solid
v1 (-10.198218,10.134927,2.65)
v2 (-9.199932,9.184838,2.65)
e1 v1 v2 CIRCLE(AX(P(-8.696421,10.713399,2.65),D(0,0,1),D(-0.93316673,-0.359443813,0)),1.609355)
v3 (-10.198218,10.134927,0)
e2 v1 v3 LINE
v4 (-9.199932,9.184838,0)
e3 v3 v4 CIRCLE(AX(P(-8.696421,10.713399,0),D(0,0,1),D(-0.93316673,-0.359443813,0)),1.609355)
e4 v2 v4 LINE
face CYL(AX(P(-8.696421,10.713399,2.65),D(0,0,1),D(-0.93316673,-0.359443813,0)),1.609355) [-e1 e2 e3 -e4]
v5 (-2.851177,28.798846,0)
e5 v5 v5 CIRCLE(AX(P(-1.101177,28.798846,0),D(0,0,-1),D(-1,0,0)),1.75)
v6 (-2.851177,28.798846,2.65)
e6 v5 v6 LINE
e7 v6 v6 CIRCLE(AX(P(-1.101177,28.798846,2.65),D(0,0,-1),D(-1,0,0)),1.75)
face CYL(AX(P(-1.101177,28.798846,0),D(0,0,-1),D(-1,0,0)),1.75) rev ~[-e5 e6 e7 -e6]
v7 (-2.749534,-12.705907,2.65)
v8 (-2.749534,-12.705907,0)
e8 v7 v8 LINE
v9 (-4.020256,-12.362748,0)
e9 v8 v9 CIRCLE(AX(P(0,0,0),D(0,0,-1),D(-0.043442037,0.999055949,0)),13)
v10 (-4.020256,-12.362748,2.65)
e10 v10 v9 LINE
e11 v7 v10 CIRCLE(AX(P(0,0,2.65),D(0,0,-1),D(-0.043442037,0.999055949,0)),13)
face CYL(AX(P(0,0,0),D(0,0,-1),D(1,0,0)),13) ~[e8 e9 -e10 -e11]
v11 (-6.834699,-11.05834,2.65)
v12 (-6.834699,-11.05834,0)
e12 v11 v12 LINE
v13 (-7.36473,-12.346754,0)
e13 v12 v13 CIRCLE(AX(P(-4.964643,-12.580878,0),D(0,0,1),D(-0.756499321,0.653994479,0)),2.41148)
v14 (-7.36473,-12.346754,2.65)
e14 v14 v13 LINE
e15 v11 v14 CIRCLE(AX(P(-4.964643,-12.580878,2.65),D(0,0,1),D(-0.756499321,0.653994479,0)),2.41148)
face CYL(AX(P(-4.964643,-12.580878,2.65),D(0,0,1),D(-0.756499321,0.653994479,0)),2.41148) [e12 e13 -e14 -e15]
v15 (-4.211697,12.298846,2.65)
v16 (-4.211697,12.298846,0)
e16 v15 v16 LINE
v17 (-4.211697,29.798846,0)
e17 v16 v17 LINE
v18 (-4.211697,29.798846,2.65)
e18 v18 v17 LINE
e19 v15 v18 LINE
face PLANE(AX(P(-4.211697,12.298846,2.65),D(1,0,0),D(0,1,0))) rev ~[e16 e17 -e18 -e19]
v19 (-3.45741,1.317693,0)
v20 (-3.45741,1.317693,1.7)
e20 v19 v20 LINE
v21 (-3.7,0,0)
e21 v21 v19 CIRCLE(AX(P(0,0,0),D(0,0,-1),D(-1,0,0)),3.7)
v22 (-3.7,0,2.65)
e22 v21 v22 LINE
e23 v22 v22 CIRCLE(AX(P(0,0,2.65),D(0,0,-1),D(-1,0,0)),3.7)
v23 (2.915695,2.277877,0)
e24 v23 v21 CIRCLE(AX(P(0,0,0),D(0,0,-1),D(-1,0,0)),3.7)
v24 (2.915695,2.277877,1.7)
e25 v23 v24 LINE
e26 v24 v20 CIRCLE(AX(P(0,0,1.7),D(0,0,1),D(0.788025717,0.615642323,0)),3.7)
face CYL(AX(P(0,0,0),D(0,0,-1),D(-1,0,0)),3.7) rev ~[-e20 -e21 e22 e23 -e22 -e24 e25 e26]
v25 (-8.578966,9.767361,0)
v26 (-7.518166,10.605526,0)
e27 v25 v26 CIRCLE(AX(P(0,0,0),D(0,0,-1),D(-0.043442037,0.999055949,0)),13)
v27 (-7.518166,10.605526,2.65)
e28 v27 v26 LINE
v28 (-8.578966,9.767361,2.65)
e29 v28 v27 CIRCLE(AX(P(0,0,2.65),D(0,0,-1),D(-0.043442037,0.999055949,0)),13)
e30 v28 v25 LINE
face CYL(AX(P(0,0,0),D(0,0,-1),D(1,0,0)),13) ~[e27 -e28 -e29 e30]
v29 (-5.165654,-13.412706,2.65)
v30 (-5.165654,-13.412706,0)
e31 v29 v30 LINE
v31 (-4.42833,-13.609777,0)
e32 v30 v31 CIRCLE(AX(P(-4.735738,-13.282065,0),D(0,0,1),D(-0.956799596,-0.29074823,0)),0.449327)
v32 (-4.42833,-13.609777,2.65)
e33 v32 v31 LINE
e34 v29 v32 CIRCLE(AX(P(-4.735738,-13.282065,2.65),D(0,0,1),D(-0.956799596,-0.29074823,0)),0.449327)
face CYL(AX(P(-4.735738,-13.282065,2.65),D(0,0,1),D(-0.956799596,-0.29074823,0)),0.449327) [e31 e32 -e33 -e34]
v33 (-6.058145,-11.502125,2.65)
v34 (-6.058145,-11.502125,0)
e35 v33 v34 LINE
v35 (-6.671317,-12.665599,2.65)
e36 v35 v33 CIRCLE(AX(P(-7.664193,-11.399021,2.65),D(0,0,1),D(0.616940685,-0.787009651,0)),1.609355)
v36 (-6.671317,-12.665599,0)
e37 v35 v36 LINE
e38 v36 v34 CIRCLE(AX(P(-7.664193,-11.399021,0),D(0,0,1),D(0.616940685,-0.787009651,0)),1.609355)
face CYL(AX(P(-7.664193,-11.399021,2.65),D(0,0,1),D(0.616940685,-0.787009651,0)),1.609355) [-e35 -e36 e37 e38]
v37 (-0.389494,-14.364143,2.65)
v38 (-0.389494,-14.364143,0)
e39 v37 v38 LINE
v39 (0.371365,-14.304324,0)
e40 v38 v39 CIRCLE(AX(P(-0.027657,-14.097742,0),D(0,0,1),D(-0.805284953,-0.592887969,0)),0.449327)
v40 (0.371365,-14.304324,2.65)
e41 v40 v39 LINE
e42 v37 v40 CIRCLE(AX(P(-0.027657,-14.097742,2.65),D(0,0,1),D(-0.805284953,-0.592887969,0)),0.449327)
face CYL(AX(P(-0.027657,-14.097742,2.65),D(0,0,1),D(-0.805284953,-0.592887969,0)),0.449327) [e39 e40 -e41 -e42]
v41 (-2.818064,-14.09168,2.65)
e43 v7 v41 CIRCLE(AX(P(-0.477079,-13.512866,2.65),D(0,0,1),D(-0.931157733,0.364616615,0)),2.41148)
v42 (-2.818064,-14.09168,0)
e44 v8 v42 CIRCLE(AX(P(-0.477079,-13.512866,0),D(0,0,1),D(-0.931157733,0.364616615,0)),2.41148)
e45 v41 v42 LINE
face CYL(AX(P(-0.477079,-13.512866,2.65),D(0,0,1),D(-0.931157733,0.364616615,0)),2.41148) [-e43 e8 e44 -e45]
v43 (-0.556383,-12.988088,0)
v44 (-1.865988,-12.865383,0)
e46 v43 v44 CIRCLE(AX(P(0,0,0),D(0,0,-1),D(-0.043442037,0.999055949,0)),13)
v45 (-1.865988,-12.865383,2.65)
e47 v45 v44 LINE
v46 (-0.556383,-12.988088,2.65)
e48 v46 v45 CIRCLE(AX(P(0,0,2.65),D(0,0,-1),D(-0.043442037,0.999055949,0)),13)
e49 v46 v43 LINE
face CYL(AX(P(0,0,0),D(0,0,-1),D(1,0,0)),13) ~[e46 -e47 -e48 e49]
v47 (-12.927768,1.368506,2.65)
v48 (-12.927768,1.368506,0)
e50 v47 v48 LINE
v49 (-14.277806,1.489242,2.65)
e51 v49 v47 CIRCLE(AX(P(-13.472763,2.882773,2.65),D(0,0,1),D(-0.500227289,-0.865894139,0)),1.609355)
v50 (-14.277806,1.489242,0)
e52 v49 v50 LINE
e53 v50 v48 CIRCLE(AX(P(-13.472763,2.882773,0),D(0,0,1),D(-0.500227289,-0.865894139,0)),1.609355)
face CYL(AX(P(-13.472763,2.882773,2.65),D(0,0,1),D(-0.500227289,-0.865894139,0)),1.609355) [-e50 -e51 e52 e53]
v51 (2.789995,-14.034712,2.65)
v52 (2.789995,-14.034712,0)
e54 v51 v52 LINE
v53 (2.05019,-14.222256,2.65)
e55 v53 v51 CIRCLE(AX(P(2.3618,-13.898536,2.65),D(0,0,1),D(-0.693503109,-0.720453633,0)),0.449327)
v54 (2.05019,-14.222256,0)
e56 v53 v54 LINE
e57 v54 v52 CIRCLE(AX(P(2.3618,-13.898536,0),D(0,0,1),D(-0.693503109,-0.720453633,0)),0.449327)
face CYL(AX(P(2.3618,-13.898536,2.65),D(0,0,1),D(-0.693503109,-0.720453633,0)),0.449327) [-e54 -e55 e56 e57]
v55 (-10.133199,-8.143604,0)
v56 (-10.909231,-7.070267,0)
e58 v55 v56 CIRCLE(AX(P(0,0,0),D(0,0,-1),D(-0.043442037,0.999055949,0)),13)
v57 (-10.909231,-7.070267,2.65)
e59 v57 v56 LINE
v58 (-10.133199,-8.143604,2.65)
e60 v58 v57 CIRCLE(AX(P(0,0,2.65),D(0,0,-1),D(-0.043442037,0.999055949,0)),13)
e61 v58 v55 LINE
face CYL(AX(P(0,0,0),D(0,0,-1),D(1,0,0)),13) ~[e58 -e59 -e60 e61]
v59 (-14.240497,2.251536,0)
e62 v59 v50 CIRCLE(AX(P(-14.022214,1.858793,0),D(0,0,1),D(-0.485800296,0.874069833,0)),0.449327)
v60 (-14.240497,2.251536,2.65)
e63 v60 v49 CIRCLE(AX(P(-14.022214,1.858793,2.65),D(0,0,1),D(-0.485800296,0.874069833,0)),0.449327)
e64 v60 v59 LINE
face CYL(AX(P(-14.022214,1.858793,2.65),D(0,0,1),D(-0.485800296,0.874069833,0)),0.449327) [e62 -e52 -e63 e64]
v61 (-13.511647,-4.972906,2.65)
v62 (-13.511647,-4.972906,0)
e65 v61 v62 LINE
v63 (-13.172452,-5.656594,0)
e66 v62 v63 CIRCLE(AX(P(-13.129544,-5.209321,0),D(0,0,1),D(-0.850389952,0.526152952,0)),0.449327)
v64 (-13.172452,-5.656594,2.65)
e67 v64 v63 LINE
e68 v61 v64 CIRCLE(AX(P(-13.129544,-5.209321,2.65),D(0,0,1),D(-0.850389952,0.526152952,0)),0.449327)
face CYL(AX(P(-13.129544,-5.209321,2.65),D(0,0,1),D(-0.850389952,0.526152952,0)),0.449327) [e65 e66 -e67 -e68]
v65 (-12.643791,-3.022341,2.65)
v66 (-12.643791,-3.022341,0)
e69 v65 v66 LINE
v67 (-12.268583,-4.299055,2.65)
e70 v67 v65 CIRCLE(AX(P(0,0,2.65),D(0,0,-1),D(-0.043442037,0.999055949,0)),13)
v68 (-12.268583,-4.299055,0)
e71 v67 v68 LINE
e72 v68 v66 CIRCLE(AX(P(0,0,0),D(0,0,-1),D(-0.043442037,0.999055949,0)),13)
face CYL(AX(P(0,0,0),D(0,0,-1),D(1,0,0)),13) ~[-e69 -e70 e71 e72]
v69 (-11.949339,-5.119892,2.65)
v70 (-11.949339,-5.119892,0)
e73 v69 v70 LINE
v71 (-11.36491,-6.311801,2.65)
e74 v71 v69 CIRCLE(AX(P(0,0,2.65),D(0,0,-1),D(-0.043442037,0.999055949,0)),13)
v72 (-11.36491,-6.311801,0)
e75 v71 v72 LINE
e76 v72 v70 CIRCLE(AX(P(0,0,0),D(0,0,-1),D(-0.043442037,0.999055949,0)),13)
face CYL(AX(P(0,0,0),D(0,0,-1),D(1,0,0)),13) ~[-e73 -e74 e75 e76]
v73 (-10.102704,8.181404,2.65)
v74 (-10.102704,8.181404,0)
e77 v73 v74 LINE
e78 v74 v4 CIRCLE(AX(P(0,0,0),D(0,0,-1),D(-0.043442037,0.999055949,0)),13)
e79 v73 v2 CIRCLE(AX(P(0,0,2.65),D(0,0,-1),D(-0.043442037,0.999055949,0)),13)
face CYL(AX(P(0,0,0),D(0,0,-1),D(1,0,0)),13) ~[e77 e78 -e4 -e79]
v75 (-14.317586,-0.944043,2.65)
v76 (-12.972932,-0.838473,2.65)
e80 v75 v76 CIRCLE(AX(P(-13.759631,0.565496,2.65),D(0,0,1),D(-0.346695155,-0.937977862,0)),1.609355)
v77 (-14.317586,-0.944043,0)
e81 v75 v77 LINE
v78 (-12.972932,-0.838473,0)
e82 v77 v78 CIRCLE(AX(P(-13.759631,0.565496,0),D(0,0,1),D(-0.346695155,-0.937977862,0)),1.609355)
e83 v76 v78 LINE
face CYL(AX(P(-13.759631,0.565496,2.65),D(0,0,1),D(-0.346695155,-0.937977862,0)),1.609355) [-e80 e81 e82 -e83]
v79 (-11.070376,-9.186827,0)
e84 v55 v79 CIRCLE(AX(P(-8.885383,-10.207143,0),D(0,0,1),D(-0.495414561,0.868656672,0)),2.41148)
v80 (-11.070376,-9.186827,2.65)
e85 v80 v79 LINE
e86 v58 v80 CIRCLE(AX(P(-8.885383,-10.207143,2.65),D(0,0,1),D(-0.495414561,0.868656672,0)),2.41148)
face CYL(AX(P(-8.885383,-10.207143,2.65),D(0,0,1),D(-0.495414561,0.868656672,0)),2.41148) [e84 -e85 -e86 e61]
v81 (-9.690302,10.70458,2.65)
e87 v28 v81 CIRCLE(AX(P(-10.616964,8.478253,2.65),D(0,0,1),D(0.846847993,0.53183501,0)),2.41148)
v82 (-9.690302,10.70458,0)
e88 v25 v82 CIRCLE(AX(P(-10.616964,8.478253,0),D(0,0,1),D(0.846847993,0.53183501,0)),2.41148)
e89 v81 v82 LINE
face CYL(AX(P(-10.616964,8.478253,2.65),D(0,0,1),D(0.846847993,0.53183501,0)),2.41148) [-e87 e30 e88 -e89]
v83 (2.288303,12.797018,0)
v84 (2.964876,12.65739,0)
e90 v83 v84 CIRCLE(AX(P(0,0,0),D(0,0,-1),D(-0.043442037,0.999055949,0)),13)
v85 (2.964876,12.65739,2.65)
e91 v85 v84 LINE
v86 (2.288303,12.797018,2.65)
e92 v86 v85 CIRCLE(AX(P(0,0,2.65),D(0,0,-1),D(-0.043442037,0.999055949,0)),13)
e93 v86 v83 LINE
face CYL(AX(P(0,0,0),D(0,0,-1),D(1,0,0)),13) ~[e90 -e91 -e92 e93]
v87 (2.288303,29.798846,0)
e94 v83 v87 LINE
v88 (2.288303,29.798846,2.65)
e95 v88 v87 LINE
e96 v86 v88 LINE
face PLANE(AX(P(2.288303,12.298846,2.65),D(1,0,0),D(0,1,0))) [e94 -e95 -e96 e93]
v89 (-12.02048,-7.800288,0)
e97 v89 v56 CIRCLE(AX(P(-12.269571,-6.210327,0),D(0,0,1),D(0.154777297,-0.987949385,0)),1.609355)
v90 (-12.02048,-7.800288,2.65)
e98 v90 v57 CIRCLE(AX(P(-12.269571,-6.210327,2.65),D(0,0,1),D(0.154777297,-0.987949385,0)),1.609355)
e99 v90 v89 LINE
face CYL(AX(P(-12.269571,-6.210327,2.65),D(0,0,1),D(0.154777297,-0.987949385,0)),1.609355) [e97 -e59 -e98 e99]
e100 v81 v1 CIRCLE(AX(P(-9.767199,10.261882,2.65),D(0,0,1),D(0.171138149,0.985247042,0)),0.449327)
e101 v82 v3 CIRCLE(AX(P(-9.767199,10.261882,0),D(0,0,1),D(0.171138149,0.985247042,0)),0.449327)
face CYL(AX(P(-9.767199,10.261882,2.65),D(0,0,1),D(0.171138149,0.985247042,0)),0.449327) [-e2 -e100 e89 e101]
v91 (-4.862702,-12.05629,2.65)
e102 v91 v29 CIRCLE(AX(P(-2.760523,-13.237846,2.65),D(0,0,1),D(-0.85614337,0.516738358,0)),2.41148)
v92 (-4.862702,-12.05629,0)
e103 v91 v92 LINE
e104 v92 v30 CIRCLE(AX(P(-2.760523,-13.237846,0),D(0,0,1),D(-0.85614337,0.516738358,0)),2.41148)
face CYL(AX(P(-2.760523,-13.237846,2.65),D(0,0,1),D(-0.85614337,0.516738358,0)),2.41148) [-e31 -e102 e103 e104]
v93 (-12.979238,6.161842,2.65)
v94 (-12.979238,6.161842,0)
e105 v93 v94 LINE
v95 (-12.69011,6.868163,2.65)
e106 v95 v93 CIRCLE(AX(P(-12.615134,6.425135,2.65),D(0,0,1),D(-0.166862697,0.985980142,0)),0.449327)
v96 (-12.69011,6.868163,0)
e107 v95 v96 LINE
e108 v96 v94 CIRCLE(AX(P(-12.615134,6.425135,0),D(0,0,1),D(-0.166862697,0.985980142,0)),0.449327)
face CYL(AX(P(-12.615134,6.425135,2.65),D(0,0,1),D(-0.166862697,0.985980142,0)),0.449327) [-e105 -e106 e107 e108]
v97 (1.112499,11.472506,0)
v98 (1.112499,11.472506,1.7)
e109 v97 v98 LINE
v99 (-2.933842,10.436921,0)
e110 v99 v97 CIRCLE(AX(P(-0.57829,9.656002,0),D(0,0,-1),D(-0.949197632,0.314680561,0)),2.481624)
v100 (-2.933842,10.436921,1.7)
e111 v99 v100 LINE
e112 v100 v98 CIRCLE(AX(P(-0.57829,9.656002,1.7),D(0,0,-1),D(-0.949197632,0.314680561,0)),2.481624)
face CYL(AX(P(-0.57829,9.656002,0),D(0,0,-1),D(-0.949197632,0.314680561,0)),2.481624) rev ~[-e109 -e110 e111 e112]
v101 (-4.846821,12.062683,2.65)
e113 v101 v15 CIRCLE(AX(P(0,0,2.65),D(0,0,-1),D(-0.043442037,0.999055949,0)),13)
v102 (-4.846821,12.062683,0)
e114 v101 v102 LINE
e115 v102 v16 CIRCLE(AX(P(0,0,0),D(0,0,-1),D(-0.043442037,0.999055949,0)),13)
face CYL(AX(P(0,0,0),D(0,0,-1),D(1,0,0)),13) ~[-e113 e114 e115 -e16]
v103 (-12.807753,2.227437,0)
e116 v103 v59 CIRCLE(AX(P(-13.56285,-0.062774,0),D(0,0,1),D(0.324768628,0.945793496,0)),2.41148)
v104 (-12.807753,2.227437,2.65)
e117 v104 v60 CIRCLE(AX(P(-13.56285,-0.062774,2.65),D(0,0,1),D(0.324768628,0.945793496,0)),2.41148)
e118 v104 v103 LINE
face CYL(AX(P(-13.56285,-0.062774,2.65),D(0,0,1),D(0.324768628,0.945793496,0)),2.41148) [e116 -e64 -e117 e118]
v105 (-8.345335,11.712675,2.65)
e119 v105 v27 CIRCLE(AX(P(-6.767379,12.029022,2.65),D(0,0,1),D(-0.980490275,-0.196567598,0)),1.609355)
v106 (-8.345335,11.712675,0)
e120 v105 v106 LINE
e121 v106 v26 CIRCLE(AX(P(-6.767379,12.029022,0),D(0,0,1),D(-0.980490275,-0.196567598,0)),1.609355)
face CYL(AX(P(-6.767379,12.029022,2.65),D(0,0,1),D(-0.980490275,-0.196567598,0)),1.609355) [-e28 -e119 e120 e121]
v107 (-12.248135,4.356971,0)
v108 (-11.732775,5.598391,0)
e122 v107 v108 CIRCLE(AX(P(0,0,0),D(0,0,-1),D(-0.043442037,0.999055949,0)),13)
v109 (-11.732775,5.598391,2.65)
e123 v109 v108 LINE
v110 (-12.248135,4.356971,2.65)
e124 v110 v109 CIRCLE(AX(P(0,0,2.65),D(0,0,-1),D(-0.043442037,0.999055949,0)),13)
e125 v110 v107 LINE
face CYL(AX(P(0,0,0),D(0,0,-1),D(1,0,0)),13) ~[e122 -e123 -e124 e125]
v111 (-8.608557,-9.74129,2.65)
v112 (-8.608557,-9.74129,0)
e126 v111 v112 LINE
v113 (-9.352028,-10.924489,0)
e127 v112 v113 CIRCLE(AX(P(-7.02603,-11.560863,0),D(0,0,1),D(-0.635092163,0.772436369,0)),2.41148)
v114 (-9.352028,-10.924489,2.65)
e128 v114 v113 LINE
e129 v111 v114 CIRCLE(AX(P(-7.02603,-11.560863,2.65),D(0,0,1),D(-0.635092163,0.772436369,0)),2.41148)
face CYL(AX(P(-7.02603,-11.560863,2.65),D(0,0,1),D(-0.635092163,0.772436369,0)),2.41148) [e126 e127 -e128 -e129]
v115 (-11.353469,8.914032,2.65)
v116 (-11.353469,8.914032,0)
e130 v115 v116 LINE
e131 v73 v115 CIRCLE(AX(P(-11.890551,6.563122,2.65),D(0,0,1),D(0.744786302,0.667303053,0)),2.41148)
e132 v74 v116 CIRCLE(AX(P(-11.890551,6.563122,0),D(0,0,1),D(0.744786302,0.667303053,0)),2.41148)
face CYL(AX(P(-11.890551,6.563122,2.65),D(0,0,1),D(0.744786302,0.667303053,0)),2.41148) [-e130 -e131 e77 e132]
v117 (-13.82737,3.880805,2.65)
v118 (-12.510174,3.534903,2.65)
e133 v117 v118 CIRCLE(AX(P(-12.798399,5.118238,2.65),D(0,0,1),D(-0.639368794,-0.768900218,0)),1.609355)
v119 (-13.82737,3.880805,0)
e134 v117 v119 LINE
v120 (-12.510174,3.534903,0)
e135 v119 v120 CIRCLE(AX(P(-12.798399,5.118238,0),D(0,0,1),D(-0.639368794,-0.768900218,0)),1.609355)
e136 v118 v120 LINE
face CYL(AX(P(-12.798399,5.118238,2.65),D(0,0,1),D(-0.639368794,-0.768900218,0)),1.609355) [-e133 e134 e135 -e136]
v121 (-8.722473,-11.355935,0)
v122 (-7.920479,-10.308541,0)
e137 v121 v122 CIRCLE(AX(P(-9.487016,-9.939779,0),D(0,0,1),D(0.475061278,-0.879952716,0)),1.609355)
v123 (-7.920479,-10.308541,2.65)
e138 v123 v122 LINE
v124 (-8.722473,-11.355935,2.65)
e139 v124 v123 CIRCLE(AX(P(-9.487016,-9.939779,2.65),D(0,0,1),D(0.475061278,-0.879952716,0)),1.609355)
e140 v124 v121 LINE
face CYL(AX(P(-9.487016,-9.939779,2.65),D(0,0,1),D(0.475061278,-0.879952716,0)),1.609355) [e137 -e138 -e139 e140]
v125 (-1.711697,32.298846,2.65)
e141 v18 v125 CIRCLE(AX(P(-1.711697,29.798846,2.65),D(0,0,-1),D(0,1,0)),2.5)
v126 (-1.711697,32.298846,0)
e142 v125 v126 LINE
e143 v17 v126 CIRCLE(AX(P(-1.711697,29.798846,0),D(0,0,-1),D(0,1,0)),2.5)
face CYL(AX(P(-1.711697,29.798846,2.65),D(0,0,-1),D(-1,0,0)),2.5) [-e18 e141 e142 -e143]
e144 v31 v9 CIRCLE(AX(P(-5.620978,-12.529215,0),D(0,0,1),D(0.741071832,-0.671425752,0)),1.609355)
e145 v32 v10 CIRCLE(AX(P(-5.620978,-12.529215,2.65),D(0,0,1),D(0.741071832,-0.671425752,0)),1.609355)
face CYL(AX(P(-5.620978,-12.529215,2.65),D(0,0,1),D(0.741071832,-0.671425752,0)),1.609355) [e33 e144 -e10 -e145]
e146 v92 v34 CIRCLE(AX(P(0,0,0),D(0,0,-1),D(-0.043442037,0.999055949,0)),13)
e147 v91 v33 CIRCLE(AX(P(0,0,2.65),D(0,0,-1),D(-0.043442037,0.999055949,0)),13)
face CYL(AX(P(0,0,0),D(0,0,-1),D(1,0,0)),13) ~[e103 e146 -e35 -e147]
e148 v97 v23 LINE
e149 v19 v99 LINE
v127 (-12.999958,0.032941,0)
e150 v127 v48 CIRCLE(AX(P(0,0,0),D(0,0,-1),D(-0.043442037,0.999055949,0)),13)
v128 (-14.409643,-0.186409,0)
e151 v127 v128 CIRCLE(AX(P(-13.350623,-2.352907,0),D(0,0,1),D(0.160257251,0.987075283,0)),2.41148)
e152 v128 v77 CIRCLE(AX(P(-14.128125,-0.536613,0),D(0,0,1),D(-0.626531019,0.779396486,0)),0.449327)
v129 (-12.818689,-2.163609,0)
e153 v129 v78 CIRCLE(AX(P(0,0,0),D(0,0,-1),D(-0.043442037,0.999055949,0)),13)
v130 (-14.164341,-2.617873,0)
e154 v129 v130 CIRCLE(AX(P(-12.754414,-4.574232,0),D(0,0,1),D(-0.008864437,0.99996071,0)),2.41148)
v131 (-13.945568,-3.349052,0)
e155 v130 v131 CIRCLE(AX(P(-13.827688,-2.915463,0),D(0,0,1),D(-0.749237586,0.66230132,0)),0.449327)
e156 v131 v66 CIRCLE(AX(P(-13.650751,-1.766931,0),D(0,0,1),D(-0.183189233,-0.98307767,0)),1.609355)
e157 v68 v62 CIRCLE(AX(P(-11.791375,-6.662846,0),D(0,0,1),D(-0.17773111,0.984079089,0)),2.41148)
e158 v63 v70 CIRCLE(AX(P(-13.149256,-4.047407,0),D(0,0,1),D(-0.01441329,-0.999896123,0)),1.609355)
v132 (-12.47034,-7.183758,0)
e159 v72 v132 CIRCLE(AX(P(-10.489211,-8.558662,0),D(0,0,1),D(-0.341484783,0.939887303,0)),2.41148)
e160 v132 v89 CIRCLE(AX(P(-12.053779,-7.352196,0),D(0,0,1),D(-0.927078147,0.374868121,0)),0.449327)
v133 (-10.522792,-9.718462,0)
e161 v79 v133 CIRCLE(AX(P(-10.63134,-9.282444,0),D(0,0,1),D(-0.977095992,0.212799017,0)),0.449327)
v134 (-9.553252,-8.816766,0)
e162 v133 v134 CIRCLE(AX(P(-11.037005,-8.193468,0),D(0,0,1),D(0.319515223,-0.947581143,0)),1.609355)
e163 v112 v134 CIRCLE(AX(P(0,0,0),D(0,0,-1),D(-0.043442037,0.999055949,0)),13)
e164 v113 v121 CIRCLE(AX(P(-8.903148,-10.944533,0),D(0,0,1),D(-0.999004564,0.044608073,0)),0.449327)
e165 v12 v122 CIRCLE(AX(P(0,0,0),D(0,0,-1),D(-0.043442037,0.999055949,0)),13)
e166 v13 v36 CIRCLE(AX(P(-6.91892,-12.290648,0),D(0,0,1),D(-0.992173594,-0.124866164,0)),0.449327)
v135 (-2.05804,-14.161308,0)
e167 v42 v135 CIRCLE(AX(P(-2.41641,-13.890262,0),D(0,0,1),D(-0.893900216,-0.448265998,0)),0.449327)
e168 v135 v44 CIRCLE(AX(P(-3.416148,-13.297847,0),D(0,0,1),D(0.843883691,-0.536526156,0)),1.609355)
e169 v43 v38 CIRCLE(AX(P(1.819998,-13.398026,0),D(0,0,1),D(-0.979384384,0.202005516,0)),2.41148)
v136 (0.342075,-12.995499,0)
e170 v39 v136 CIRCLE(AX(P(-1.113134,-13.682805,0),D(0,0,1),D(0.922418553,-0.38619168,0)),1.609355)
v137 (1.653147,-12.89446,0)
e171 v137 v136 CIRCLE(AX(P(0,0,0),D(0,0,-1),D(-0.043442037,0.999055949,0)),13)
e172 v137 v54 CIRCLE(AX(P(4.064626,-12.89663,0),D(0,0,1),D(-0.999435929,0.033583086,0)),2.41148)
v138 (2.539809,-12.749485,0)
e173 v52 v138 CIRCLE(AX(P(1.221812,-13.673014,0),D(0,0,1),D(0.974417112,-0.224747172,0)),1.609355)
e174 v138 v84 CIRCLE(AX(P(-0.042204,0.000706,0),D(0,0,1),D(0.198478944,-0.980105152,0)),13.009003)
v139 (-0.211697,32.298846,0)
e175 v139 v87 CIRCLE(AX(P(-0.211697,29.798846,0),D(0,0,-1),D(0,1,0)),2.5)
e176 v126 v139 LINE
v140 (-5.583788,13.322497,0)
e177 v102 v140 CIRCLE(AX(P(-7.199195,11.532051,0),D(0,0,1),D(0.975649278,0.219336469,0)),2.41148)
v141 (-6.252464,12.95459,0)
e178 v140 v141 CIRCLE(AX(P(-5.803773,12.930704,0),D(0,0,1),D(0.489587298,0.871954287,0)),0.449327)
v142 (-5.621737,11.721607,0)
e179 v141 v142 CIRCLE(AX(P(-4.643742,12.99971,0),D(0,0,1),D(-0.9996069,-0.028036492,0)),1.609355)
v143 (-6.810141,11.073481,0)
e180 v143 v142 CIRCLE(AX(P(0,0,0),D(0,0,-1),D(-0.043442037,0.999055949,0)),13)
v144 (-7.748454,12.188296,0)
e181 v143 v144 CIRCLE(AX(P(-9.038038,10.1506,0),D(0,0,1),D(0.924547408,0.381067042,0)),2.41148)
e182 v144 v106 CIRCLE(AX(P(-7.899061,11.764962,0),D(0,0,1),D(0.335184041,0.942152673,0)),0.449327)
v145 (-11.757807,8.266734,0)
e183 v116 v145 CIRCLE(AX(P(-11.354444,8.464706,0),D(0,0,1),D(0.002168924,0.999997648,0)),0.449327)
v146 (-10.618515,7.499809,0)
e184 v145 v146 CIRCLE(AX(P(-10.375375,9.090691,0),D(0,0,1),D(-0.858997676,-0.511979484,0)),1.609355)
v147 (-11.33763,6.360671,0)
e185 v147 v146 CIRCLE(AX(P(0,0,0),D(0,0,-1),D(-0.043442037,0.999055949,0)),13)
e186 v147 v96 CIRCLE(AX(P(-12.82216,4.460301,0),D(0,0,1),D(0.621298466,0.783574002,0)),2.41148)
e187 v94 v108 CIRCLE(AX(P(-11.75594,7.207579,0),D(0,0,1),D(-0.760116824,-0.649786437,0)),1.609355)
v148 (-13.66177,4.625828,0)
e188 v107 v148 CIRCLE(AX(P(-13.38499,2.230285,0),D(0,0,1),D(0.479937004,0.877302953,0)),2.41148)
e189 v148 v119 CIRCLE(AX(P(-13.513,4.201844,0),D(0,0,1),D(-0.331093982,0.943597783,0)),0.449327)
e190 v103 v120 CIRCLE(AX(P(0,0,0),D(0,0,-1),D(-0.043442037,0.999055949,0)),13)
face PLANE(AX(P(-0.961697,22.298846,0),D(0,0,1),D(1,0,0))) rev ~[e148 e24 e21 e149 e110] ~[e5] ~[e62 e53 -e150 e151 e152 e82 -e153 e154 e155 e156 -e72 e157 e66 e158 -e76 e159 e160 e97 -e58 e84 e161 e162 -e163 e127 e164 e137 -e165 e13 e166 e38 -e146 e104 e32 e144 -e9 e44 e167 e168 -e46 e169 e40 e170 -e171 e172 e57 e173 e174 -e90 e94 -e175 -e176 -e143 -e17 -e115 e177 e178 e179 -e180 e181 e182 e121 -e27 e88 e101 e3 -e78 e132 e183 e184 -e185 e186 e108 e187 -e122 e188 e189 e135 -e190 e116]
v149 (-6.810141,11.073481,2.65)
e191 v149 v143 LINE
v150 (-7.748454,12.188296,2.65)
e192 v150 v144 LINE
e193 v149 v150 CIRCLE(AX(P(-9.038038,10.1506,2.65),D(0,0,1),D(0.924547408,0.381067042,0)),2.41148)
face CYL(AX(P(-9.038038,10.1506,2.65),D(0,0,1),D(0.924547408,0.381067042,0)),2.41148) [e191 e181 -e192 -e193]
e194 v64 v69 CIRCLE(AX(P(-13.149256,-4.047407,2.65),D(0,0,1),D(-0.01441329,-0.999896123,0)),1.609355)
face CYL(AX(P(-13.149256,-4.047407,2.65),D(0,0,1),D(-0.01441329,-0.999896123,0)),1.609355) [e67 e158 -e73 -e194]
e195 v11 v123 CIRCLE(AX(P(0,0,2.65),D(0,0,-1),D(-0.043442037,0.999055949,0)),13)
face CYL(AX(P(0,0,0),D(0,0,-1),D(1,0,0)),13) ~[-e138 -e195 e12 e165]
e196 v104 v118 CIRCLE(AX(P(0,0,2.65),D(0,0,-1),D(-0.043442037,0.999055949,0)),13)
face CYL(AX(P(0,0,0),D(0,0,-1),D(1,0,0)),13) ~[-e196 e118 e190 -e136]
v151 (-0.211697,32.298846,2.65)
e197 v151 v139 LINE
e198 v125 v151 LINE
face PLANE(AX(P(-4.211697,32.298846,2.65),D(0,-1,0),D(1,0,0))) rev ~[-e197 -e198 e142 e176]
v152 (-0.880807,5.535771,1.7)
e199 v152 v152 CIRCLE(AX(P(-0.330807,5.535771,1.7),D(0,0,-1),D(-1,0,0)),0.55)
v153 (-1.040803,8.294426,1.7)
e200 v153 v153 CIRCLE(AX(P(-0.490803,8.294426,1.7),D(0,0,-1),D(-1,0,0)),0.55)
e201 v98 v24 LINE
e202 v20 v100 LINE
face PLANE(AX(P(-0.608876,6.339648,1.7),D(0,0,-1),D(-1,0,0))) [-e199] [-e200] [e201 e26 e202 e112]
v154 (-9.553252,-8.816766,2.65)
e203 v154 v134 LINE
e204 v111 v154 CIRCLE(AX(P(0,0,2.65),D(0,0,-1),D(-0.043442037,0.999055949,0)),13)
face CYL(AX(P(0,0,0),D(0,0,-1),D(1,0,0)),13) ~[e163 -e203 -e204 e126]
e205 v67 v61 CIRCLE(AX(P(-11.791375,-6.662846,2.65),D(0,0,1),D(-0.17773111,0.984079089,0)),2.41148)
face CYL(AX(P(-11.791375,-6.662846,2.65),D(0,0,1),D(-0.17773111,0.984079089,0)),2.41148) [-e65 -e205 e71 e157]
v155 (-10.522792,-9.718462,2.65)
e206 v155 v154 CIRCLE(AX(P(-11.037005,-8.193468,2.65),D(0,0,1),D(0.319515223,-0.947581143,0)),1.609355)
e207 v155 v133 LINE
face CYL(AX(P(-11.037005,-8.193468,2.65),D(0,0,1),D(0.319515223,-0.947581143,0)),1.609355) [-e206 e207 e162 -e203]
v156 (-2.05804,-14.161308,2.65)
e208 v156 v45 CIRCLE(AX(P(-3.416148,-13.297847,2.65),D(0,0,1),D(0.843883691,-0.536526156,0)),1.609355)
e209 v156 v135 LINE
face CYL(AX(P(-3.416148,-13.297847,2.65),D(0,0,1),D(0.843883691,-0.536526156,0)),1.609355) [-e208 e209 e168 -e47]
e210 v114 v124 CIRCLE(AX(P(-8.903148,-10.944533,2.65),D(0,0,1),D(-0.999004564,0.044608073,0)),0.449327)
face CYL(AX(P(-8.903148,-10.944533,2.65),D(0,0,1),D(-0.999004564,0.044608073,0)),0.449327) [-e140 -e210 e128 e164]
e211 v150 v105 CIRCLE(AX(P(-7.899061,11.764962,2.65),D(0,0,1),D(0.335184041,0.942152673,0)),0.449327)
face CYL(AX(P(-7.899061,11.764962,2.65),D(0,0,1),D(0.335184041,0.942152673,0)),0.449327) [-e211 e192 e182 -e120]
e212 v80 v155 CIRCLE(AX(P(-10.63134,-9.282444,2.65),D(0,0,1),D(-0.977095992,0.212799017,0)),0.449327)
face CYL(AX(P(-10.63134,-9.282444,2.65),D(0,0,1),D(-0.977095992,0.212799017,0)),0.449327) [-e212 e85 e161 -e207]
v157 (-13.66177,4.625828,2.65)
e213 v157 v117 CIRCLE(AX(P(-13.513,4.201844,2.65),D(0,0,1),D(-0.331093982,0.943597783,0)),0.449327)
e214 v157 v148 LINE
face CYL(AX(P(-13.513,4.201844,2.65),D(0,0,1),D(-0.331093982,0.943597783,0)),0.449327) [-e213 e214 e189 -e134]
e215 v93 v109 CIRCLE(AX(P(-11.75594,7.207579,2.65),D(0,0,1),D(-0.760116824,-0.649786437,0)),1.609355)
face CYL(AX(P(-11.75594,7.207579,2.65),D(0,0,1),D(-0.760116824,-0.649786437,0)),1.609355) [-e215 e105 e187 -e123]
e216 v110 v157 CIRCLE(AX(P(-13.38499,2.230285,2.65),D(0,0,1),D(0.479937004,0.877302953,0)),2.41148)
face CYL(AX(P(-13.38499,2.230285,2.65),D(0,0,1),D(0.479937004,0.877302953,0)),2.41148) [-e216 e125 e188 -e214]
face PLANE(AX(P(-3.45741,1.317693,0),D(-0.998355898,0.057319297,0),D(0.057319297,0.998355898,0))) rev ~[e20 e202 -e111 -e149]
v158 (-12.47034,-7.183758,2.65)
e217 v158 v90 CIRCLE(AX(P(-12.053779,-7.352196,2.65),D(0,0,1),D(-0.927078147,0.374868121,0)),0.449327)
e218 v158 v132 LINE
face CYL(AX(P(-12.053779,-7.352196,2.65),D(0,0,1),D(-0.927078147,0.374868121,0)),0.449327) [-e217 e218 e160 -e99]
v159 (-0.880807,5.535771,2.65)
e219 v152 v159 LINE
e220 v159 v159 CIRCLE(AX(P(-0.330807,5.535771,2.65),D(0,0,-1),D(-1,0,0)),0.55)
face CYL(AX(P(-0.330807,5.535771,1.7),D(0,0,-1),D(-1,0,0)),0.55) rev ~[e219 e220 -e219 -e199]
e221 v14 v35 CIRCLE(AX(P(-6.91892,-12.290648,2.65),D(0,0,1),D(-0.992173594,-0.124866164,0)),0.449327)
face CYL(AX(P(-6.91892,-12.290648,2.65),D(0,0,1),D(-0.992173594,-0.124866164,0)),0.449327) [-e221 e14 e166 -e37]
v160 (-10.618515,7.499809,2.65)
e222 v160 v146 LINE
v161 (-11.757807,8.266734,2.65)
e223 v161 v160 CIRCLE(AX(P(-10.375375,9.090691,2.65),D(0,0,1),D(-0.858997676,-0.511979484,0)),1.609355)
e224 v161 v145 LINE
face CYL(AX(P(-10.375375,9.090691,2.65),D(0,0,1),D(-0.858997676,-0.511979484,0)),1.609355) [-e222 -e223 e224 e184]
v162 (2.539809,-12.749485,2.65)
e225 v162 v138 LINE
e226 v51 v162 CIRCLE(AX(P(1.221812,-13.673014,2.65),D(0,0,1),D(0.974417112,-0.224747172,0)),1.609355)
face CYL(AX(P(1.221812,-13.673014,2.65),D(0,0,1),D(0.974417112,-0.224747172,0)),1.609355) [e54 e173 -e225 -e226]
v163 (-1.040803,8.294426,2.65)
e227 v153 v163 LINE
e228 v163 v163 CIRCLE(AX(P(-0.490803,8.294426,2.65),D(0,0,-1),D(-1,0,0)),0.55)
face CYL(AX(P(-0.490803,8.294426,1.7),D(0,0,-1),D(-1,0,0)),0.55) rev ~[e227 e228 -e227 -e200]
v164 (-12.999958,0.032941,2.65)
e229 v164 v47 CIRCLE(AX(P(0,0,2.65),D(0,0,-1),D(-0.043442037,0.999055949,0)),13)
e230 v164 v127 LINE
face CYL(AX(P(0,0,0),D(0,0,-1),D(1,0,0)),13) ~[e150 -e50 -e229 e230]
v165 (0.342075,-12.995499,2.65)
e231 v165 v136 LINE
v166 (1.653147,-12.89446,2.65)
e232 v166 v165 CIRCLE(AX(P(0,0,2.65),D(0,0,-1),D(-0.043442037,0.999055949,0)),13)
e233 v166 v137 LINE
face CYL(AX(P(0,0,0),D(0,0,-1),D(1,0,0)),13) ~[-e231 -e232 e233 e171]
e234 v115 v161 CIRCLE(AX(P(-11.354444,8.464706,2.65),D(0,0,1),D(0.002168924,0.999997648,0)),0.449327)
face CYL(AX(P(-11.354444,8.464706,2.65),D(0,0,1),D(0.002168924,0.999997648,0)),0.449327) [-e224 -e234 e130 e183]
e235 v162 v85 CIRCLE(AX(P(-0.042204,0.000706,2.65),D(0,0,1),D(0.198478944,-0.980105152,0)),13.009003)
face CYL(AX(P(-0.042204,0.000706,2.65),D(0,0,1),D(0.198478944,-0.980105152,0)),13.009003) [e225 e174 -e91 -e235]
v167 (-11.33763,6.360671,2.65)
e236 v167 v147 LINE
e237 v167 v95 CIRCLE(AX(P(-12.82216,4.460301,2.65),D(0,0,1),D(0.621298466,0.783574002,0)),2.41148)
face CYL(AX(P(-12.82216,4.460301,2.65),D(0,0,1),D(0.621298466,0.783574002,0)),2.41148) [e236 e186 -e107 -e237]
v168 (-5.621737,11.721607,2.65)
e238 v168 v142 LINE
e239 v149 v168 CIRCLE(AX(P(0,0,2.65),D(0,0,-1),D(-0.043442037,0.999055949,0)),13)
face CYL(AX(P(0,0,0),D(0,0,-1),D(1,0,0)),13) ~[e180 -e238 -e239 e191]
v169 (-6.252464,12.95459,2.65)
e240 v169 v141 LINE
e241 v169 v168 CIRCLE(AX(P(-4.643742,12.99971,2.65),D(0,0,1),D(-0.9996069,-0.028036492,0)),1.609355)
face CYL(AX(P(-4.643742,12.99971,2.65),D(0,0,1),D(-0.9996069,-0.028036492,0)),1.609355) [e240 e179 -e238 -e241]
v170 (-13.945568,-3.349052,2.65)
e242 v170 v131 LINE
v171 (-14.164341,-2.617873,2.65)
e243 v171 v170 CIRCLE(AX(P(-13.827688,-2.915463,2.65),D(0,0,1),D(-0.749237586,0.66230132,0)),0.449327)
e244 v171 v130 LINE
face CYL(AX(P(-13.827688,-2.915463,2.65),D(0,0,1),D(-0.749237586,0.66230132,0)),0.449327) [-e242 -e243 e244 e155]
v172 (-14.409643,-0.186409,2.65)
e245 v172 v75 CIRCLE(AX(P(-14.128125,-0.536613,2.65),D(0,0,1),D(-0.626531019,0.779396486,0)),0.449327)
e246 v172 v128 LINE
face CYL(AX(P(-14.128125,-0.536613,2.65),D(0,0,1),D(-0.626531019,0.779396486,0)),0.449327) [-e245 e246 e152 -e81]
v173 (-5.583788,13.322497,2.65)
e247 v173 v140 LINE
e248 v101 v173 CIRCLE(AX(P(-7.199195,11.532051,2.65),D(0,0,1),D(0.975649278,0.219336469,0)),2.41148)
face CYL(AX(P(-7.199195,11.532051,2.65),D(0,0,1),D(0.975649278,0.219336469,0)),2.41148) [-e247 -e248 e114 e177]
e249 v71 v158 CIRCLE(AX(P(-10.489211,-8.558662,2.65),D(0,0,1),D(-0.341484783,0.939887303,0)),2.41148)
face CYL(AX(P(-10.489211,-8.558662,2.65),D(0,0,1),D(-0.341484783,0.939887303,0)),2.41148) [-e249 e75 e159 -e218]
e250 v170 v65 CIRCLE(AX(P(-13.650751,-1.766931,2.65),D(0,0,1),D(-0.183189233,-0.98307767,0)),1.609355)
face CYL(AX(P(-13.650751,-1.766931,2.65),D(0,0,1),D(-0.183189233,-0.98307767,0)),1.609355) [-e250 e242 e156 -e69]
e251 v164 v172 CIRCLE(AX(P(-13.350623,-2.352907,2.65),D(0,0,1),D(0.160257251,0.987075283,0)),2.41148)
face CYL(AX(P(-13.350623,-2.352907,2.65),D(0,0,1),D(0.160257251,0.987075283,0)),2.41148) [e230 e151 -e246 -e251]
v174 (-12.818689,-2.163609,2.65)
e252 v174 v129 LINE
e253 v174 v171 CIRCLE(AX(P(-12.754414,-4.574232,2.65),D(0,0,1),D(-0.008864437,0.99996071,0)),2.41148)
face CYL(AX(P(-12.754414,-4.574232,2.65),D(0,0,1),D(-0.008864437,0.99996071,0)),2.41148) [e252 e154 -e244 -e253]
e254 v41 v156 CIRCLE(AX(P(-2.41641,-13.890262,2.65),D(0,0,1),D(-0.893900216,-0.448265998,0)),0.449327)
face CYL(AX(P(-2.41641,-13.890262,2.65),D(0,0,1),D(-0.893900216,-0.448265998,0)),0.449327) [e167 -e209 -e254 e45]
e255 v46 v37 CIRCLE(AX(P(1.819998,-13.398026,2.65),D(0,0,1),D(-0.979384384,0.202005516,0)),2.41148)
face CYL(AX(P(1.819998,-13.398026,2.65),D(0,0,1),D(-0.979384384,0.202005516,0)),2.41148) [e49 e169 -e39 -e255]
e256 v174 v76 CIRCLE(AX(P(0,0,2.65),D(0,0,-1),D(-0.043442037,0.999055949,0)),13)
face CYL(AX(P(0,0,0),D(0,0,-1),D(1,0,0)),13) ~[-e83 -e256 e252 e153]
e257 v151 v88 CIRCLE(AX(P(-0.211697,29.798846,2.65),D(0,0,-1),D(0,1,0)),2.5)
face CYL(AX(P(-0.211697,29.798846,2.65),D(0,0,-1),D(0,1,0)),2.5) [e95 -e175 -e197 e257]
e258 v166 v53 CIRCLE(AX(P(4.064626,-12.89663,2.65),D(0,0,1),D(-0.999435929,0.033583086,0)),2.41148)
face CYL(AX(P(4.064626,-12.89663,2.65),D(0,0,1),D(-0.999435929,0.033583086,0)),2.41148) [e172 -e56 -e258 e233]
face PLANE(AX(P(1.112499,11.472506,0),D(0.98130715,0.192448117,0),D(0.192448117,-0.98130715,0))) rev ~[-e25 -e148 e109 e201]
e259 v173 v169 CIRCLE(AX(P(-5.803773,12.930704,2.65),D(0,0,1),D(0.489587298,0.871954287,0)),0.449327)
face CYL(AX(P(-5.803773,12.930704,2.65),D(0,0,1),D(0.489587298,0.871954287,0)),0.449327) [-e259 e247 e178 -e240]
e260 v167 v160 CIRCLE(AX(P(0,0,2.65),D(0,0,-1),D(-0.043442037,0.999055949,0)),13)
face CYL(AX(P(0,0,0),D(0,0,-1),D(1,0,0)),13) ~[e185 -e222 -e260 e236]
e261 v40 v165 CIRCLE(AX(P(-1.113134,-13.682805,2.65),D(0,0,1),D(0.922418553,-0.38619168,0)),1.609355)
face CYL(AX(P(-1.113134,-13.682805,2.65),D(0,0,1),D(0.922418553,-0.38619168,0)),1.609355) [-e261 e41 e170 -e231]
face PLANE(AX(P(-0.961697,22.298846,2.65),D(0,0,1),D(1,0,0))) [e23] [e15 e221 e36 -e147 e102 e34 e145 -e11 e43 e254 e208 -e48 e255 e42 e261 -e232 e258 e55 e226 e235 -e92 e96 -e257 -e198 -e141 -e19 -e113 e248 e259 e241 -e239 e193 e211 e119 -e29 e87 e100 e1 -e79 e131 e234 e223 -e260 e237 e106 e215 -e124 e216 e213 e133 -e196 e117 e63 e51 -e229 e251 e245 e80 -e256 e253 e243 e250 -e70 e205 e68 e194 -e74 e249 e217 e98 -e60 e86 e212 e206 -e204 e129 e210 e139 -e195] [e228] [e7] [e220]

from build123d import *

# Parameters (mm, degrees)
SKETCH1_R           = 13
BOSS_EXTRUDE1_DEPTH = 2.65
BOSS_EXTRUDE2_DEPTH = 2.65
CIRPATTERN1_COUNT   = 37
CUT_EXTRUDE1_DEPTH  = 6
SKETCH5_W           = 6.5
SKETCH5_H           = 20
BOSS_EXTRUDE3_DEPTH = 2.65
FILLET1_R           = 2.5
SKETCH6_R           = 3.7
CUT_EXTRUDE2_DEPTH  = 36.535053909
SKETCH8_R           = 1.75
CUT_EXTRUDE4_DEPTH  = 36.535053909
CUT_EXTRUDE5_DEPTH  = 1.7
SKETCH9_R           = 0.55
CUT_EXTRUDE6_DEPTH  = 36.476859448


with BuildPart() as part:
    # Sketch1 → Boss-Extrude1 (new body)
    with BuildSketch(Plane.XY):
        Circle(SKETCH1_R)
    extrude(amount=BOSS_EXTRUDE1_DEPTH)

    # Sketch2 → Boss-Extrude2 (add)
    with BuildSketch(Plane.XY.offset(2.65)):
        with BuildLine():
            Line((-1.407237761, 12.923609476), (-0.564746485, 12.987727338))
            ThreePointArc((-0.564746485, 12.987727338), (-0.590917928, 13.726605325), (-0.839716114, 14.422827334))
            ThreePointArc((-0.839716114, 14.422827334), (-1.250735375, 14.570045044), (-1.59276063, 14.298699117))
            ThreePointArc((-1.59276063, 14.298699117), (-1.655805876, 13.590133338), (-1.407237761, 12.923609476))
        make_face()
    boss_extrude2 = extrude(amount=-BOSS_EXTRUDE2_DEPTH)

    # CirPattern1: Boss-Extrude2 ×37 about axis
    cirpattern1_axis = Axis((-0.00317711, 0.03890501, 0), (0, 0, 1))
    for i in range(1, CIRPATTERN1_COUNT):
        add(boss_extrude2.rotate(cirpattern1_axis, i * 360 / CIRPATTERN1_COUNT))

    # Sketch3 → Cut-Extrude1 (cut)
    with BuildSketch(Plane.XY.offset(2.65)):
        with BuildLine():
            ThreePointArc((2.539809494, -12.749484999), (12.964979242, -0.216908767), (2.964875647, 12.657389636))
            ThreePointArc((2.964875647, 12.657389636), (2.750073389, 13.993219942), (3.542759924, 15.089682744))
            ThreePointArc((3.542759924, 15.089682744), (15.464629435, -0.258728814), (3.036006853, -15.199747879))
            ThreePointArc((3.036006853, -15.199747879), (3.295374232, -13.871850601), (2.539809494, -12.749484999))
        make_face()
    extrude(amount=-CUT_EXTRUDE1_DEPTH, mode=Mode.SUBTRACT)

    # Sketch5 → Boss-Extrude3 (add)
    with BuildSketch(Plane.XY.offset(2.65)):
        with Locations((-0.96169727, 22.298845722)):
            Rectangle(SKETCH5_W, SKETCH5_H)
    extrude(amount=-BOSS_EXTRUDE3_DEPTH)

    # Fillet1
    fillet1_edges = [part.edges().sort_by_distance(p)[0] for p in [
        (2.28830273, 32.298845722, 1.325),
        (-4.21169727, 32.298845722, 1.325),
    ]]
    fillet(fillet1_edges, radius=FILLET1_R)

    # Sketch6 → Cut-Extrude2 (cut, through all)
    with BuildSketch(Plane(origin=(0, 0, 0), x_dir=(-1, 0, 0), z_dir=(0, 0, -1))):
        Circle(SKETCH6_R)
    extrude(amount=-CUT_EXTRUDE2_DEPTH, mode=Mode.SUBTRACT)

    # Sketch8 → Cut-Extrude4 (cut, through all)
    with BuildSketch(Plane(origin=(0, 0, 0), x_dir=(-1, 0, 0), z_dir=(0, 0, -1))):
        with Locations((1.101176672, 28.798845722)):
            Circle(SKETCH8_R)
    extrude(amount=-CUT_EXTRUDE4_DEPTH, mode=Mode.SUBTRACT)

    # Sketch7 → Cut-Extrude5 (cut)
    with BuildSketch(Plane(origin=(0, 0, 0), x_dir=(-1, 0, 0), z_dir=(0, 0, -1))):
        with BuildLine():
            Line((3.457410227, 1.317692879), (2.9338417, 10.436920645))
            ThreePointArc((2.9338417, 10.436920645), (1.193583976, 12.06013788), (-1.112499205, 11.472505769))
            Line((-1.112499205, 11.472505769), (-2.915695151, 2.277876596))
            ThreePointArc((-2.915695151, 2.277876596), (0.551227719, 3.658708516), (3.457410227, 1.317692879))
        make_face()
    extrude(amount=-CUT_EXTRUDE5_DEPTH, mode=Mode.SUBTRACT)

    # Sketch9 → Cut-Extrude6 (cut, through all)
    with BuildSketch(Plane(origin=(0, 0, 1.7), x_dir=(-1, 0, 0), z_dir=(0, 0, -1))):
        with Locations((0.330807323, 5.53577119)):
            Circle(SKETCH9_R)
        with Locations((0.490803437, 8.294426445)):
            Circle(SKETCH9_R)
    extrude(amount=-CUT_EXTRUDE6_DEPTH, mode=Mode.SUBTRACT)


solid = part.part
